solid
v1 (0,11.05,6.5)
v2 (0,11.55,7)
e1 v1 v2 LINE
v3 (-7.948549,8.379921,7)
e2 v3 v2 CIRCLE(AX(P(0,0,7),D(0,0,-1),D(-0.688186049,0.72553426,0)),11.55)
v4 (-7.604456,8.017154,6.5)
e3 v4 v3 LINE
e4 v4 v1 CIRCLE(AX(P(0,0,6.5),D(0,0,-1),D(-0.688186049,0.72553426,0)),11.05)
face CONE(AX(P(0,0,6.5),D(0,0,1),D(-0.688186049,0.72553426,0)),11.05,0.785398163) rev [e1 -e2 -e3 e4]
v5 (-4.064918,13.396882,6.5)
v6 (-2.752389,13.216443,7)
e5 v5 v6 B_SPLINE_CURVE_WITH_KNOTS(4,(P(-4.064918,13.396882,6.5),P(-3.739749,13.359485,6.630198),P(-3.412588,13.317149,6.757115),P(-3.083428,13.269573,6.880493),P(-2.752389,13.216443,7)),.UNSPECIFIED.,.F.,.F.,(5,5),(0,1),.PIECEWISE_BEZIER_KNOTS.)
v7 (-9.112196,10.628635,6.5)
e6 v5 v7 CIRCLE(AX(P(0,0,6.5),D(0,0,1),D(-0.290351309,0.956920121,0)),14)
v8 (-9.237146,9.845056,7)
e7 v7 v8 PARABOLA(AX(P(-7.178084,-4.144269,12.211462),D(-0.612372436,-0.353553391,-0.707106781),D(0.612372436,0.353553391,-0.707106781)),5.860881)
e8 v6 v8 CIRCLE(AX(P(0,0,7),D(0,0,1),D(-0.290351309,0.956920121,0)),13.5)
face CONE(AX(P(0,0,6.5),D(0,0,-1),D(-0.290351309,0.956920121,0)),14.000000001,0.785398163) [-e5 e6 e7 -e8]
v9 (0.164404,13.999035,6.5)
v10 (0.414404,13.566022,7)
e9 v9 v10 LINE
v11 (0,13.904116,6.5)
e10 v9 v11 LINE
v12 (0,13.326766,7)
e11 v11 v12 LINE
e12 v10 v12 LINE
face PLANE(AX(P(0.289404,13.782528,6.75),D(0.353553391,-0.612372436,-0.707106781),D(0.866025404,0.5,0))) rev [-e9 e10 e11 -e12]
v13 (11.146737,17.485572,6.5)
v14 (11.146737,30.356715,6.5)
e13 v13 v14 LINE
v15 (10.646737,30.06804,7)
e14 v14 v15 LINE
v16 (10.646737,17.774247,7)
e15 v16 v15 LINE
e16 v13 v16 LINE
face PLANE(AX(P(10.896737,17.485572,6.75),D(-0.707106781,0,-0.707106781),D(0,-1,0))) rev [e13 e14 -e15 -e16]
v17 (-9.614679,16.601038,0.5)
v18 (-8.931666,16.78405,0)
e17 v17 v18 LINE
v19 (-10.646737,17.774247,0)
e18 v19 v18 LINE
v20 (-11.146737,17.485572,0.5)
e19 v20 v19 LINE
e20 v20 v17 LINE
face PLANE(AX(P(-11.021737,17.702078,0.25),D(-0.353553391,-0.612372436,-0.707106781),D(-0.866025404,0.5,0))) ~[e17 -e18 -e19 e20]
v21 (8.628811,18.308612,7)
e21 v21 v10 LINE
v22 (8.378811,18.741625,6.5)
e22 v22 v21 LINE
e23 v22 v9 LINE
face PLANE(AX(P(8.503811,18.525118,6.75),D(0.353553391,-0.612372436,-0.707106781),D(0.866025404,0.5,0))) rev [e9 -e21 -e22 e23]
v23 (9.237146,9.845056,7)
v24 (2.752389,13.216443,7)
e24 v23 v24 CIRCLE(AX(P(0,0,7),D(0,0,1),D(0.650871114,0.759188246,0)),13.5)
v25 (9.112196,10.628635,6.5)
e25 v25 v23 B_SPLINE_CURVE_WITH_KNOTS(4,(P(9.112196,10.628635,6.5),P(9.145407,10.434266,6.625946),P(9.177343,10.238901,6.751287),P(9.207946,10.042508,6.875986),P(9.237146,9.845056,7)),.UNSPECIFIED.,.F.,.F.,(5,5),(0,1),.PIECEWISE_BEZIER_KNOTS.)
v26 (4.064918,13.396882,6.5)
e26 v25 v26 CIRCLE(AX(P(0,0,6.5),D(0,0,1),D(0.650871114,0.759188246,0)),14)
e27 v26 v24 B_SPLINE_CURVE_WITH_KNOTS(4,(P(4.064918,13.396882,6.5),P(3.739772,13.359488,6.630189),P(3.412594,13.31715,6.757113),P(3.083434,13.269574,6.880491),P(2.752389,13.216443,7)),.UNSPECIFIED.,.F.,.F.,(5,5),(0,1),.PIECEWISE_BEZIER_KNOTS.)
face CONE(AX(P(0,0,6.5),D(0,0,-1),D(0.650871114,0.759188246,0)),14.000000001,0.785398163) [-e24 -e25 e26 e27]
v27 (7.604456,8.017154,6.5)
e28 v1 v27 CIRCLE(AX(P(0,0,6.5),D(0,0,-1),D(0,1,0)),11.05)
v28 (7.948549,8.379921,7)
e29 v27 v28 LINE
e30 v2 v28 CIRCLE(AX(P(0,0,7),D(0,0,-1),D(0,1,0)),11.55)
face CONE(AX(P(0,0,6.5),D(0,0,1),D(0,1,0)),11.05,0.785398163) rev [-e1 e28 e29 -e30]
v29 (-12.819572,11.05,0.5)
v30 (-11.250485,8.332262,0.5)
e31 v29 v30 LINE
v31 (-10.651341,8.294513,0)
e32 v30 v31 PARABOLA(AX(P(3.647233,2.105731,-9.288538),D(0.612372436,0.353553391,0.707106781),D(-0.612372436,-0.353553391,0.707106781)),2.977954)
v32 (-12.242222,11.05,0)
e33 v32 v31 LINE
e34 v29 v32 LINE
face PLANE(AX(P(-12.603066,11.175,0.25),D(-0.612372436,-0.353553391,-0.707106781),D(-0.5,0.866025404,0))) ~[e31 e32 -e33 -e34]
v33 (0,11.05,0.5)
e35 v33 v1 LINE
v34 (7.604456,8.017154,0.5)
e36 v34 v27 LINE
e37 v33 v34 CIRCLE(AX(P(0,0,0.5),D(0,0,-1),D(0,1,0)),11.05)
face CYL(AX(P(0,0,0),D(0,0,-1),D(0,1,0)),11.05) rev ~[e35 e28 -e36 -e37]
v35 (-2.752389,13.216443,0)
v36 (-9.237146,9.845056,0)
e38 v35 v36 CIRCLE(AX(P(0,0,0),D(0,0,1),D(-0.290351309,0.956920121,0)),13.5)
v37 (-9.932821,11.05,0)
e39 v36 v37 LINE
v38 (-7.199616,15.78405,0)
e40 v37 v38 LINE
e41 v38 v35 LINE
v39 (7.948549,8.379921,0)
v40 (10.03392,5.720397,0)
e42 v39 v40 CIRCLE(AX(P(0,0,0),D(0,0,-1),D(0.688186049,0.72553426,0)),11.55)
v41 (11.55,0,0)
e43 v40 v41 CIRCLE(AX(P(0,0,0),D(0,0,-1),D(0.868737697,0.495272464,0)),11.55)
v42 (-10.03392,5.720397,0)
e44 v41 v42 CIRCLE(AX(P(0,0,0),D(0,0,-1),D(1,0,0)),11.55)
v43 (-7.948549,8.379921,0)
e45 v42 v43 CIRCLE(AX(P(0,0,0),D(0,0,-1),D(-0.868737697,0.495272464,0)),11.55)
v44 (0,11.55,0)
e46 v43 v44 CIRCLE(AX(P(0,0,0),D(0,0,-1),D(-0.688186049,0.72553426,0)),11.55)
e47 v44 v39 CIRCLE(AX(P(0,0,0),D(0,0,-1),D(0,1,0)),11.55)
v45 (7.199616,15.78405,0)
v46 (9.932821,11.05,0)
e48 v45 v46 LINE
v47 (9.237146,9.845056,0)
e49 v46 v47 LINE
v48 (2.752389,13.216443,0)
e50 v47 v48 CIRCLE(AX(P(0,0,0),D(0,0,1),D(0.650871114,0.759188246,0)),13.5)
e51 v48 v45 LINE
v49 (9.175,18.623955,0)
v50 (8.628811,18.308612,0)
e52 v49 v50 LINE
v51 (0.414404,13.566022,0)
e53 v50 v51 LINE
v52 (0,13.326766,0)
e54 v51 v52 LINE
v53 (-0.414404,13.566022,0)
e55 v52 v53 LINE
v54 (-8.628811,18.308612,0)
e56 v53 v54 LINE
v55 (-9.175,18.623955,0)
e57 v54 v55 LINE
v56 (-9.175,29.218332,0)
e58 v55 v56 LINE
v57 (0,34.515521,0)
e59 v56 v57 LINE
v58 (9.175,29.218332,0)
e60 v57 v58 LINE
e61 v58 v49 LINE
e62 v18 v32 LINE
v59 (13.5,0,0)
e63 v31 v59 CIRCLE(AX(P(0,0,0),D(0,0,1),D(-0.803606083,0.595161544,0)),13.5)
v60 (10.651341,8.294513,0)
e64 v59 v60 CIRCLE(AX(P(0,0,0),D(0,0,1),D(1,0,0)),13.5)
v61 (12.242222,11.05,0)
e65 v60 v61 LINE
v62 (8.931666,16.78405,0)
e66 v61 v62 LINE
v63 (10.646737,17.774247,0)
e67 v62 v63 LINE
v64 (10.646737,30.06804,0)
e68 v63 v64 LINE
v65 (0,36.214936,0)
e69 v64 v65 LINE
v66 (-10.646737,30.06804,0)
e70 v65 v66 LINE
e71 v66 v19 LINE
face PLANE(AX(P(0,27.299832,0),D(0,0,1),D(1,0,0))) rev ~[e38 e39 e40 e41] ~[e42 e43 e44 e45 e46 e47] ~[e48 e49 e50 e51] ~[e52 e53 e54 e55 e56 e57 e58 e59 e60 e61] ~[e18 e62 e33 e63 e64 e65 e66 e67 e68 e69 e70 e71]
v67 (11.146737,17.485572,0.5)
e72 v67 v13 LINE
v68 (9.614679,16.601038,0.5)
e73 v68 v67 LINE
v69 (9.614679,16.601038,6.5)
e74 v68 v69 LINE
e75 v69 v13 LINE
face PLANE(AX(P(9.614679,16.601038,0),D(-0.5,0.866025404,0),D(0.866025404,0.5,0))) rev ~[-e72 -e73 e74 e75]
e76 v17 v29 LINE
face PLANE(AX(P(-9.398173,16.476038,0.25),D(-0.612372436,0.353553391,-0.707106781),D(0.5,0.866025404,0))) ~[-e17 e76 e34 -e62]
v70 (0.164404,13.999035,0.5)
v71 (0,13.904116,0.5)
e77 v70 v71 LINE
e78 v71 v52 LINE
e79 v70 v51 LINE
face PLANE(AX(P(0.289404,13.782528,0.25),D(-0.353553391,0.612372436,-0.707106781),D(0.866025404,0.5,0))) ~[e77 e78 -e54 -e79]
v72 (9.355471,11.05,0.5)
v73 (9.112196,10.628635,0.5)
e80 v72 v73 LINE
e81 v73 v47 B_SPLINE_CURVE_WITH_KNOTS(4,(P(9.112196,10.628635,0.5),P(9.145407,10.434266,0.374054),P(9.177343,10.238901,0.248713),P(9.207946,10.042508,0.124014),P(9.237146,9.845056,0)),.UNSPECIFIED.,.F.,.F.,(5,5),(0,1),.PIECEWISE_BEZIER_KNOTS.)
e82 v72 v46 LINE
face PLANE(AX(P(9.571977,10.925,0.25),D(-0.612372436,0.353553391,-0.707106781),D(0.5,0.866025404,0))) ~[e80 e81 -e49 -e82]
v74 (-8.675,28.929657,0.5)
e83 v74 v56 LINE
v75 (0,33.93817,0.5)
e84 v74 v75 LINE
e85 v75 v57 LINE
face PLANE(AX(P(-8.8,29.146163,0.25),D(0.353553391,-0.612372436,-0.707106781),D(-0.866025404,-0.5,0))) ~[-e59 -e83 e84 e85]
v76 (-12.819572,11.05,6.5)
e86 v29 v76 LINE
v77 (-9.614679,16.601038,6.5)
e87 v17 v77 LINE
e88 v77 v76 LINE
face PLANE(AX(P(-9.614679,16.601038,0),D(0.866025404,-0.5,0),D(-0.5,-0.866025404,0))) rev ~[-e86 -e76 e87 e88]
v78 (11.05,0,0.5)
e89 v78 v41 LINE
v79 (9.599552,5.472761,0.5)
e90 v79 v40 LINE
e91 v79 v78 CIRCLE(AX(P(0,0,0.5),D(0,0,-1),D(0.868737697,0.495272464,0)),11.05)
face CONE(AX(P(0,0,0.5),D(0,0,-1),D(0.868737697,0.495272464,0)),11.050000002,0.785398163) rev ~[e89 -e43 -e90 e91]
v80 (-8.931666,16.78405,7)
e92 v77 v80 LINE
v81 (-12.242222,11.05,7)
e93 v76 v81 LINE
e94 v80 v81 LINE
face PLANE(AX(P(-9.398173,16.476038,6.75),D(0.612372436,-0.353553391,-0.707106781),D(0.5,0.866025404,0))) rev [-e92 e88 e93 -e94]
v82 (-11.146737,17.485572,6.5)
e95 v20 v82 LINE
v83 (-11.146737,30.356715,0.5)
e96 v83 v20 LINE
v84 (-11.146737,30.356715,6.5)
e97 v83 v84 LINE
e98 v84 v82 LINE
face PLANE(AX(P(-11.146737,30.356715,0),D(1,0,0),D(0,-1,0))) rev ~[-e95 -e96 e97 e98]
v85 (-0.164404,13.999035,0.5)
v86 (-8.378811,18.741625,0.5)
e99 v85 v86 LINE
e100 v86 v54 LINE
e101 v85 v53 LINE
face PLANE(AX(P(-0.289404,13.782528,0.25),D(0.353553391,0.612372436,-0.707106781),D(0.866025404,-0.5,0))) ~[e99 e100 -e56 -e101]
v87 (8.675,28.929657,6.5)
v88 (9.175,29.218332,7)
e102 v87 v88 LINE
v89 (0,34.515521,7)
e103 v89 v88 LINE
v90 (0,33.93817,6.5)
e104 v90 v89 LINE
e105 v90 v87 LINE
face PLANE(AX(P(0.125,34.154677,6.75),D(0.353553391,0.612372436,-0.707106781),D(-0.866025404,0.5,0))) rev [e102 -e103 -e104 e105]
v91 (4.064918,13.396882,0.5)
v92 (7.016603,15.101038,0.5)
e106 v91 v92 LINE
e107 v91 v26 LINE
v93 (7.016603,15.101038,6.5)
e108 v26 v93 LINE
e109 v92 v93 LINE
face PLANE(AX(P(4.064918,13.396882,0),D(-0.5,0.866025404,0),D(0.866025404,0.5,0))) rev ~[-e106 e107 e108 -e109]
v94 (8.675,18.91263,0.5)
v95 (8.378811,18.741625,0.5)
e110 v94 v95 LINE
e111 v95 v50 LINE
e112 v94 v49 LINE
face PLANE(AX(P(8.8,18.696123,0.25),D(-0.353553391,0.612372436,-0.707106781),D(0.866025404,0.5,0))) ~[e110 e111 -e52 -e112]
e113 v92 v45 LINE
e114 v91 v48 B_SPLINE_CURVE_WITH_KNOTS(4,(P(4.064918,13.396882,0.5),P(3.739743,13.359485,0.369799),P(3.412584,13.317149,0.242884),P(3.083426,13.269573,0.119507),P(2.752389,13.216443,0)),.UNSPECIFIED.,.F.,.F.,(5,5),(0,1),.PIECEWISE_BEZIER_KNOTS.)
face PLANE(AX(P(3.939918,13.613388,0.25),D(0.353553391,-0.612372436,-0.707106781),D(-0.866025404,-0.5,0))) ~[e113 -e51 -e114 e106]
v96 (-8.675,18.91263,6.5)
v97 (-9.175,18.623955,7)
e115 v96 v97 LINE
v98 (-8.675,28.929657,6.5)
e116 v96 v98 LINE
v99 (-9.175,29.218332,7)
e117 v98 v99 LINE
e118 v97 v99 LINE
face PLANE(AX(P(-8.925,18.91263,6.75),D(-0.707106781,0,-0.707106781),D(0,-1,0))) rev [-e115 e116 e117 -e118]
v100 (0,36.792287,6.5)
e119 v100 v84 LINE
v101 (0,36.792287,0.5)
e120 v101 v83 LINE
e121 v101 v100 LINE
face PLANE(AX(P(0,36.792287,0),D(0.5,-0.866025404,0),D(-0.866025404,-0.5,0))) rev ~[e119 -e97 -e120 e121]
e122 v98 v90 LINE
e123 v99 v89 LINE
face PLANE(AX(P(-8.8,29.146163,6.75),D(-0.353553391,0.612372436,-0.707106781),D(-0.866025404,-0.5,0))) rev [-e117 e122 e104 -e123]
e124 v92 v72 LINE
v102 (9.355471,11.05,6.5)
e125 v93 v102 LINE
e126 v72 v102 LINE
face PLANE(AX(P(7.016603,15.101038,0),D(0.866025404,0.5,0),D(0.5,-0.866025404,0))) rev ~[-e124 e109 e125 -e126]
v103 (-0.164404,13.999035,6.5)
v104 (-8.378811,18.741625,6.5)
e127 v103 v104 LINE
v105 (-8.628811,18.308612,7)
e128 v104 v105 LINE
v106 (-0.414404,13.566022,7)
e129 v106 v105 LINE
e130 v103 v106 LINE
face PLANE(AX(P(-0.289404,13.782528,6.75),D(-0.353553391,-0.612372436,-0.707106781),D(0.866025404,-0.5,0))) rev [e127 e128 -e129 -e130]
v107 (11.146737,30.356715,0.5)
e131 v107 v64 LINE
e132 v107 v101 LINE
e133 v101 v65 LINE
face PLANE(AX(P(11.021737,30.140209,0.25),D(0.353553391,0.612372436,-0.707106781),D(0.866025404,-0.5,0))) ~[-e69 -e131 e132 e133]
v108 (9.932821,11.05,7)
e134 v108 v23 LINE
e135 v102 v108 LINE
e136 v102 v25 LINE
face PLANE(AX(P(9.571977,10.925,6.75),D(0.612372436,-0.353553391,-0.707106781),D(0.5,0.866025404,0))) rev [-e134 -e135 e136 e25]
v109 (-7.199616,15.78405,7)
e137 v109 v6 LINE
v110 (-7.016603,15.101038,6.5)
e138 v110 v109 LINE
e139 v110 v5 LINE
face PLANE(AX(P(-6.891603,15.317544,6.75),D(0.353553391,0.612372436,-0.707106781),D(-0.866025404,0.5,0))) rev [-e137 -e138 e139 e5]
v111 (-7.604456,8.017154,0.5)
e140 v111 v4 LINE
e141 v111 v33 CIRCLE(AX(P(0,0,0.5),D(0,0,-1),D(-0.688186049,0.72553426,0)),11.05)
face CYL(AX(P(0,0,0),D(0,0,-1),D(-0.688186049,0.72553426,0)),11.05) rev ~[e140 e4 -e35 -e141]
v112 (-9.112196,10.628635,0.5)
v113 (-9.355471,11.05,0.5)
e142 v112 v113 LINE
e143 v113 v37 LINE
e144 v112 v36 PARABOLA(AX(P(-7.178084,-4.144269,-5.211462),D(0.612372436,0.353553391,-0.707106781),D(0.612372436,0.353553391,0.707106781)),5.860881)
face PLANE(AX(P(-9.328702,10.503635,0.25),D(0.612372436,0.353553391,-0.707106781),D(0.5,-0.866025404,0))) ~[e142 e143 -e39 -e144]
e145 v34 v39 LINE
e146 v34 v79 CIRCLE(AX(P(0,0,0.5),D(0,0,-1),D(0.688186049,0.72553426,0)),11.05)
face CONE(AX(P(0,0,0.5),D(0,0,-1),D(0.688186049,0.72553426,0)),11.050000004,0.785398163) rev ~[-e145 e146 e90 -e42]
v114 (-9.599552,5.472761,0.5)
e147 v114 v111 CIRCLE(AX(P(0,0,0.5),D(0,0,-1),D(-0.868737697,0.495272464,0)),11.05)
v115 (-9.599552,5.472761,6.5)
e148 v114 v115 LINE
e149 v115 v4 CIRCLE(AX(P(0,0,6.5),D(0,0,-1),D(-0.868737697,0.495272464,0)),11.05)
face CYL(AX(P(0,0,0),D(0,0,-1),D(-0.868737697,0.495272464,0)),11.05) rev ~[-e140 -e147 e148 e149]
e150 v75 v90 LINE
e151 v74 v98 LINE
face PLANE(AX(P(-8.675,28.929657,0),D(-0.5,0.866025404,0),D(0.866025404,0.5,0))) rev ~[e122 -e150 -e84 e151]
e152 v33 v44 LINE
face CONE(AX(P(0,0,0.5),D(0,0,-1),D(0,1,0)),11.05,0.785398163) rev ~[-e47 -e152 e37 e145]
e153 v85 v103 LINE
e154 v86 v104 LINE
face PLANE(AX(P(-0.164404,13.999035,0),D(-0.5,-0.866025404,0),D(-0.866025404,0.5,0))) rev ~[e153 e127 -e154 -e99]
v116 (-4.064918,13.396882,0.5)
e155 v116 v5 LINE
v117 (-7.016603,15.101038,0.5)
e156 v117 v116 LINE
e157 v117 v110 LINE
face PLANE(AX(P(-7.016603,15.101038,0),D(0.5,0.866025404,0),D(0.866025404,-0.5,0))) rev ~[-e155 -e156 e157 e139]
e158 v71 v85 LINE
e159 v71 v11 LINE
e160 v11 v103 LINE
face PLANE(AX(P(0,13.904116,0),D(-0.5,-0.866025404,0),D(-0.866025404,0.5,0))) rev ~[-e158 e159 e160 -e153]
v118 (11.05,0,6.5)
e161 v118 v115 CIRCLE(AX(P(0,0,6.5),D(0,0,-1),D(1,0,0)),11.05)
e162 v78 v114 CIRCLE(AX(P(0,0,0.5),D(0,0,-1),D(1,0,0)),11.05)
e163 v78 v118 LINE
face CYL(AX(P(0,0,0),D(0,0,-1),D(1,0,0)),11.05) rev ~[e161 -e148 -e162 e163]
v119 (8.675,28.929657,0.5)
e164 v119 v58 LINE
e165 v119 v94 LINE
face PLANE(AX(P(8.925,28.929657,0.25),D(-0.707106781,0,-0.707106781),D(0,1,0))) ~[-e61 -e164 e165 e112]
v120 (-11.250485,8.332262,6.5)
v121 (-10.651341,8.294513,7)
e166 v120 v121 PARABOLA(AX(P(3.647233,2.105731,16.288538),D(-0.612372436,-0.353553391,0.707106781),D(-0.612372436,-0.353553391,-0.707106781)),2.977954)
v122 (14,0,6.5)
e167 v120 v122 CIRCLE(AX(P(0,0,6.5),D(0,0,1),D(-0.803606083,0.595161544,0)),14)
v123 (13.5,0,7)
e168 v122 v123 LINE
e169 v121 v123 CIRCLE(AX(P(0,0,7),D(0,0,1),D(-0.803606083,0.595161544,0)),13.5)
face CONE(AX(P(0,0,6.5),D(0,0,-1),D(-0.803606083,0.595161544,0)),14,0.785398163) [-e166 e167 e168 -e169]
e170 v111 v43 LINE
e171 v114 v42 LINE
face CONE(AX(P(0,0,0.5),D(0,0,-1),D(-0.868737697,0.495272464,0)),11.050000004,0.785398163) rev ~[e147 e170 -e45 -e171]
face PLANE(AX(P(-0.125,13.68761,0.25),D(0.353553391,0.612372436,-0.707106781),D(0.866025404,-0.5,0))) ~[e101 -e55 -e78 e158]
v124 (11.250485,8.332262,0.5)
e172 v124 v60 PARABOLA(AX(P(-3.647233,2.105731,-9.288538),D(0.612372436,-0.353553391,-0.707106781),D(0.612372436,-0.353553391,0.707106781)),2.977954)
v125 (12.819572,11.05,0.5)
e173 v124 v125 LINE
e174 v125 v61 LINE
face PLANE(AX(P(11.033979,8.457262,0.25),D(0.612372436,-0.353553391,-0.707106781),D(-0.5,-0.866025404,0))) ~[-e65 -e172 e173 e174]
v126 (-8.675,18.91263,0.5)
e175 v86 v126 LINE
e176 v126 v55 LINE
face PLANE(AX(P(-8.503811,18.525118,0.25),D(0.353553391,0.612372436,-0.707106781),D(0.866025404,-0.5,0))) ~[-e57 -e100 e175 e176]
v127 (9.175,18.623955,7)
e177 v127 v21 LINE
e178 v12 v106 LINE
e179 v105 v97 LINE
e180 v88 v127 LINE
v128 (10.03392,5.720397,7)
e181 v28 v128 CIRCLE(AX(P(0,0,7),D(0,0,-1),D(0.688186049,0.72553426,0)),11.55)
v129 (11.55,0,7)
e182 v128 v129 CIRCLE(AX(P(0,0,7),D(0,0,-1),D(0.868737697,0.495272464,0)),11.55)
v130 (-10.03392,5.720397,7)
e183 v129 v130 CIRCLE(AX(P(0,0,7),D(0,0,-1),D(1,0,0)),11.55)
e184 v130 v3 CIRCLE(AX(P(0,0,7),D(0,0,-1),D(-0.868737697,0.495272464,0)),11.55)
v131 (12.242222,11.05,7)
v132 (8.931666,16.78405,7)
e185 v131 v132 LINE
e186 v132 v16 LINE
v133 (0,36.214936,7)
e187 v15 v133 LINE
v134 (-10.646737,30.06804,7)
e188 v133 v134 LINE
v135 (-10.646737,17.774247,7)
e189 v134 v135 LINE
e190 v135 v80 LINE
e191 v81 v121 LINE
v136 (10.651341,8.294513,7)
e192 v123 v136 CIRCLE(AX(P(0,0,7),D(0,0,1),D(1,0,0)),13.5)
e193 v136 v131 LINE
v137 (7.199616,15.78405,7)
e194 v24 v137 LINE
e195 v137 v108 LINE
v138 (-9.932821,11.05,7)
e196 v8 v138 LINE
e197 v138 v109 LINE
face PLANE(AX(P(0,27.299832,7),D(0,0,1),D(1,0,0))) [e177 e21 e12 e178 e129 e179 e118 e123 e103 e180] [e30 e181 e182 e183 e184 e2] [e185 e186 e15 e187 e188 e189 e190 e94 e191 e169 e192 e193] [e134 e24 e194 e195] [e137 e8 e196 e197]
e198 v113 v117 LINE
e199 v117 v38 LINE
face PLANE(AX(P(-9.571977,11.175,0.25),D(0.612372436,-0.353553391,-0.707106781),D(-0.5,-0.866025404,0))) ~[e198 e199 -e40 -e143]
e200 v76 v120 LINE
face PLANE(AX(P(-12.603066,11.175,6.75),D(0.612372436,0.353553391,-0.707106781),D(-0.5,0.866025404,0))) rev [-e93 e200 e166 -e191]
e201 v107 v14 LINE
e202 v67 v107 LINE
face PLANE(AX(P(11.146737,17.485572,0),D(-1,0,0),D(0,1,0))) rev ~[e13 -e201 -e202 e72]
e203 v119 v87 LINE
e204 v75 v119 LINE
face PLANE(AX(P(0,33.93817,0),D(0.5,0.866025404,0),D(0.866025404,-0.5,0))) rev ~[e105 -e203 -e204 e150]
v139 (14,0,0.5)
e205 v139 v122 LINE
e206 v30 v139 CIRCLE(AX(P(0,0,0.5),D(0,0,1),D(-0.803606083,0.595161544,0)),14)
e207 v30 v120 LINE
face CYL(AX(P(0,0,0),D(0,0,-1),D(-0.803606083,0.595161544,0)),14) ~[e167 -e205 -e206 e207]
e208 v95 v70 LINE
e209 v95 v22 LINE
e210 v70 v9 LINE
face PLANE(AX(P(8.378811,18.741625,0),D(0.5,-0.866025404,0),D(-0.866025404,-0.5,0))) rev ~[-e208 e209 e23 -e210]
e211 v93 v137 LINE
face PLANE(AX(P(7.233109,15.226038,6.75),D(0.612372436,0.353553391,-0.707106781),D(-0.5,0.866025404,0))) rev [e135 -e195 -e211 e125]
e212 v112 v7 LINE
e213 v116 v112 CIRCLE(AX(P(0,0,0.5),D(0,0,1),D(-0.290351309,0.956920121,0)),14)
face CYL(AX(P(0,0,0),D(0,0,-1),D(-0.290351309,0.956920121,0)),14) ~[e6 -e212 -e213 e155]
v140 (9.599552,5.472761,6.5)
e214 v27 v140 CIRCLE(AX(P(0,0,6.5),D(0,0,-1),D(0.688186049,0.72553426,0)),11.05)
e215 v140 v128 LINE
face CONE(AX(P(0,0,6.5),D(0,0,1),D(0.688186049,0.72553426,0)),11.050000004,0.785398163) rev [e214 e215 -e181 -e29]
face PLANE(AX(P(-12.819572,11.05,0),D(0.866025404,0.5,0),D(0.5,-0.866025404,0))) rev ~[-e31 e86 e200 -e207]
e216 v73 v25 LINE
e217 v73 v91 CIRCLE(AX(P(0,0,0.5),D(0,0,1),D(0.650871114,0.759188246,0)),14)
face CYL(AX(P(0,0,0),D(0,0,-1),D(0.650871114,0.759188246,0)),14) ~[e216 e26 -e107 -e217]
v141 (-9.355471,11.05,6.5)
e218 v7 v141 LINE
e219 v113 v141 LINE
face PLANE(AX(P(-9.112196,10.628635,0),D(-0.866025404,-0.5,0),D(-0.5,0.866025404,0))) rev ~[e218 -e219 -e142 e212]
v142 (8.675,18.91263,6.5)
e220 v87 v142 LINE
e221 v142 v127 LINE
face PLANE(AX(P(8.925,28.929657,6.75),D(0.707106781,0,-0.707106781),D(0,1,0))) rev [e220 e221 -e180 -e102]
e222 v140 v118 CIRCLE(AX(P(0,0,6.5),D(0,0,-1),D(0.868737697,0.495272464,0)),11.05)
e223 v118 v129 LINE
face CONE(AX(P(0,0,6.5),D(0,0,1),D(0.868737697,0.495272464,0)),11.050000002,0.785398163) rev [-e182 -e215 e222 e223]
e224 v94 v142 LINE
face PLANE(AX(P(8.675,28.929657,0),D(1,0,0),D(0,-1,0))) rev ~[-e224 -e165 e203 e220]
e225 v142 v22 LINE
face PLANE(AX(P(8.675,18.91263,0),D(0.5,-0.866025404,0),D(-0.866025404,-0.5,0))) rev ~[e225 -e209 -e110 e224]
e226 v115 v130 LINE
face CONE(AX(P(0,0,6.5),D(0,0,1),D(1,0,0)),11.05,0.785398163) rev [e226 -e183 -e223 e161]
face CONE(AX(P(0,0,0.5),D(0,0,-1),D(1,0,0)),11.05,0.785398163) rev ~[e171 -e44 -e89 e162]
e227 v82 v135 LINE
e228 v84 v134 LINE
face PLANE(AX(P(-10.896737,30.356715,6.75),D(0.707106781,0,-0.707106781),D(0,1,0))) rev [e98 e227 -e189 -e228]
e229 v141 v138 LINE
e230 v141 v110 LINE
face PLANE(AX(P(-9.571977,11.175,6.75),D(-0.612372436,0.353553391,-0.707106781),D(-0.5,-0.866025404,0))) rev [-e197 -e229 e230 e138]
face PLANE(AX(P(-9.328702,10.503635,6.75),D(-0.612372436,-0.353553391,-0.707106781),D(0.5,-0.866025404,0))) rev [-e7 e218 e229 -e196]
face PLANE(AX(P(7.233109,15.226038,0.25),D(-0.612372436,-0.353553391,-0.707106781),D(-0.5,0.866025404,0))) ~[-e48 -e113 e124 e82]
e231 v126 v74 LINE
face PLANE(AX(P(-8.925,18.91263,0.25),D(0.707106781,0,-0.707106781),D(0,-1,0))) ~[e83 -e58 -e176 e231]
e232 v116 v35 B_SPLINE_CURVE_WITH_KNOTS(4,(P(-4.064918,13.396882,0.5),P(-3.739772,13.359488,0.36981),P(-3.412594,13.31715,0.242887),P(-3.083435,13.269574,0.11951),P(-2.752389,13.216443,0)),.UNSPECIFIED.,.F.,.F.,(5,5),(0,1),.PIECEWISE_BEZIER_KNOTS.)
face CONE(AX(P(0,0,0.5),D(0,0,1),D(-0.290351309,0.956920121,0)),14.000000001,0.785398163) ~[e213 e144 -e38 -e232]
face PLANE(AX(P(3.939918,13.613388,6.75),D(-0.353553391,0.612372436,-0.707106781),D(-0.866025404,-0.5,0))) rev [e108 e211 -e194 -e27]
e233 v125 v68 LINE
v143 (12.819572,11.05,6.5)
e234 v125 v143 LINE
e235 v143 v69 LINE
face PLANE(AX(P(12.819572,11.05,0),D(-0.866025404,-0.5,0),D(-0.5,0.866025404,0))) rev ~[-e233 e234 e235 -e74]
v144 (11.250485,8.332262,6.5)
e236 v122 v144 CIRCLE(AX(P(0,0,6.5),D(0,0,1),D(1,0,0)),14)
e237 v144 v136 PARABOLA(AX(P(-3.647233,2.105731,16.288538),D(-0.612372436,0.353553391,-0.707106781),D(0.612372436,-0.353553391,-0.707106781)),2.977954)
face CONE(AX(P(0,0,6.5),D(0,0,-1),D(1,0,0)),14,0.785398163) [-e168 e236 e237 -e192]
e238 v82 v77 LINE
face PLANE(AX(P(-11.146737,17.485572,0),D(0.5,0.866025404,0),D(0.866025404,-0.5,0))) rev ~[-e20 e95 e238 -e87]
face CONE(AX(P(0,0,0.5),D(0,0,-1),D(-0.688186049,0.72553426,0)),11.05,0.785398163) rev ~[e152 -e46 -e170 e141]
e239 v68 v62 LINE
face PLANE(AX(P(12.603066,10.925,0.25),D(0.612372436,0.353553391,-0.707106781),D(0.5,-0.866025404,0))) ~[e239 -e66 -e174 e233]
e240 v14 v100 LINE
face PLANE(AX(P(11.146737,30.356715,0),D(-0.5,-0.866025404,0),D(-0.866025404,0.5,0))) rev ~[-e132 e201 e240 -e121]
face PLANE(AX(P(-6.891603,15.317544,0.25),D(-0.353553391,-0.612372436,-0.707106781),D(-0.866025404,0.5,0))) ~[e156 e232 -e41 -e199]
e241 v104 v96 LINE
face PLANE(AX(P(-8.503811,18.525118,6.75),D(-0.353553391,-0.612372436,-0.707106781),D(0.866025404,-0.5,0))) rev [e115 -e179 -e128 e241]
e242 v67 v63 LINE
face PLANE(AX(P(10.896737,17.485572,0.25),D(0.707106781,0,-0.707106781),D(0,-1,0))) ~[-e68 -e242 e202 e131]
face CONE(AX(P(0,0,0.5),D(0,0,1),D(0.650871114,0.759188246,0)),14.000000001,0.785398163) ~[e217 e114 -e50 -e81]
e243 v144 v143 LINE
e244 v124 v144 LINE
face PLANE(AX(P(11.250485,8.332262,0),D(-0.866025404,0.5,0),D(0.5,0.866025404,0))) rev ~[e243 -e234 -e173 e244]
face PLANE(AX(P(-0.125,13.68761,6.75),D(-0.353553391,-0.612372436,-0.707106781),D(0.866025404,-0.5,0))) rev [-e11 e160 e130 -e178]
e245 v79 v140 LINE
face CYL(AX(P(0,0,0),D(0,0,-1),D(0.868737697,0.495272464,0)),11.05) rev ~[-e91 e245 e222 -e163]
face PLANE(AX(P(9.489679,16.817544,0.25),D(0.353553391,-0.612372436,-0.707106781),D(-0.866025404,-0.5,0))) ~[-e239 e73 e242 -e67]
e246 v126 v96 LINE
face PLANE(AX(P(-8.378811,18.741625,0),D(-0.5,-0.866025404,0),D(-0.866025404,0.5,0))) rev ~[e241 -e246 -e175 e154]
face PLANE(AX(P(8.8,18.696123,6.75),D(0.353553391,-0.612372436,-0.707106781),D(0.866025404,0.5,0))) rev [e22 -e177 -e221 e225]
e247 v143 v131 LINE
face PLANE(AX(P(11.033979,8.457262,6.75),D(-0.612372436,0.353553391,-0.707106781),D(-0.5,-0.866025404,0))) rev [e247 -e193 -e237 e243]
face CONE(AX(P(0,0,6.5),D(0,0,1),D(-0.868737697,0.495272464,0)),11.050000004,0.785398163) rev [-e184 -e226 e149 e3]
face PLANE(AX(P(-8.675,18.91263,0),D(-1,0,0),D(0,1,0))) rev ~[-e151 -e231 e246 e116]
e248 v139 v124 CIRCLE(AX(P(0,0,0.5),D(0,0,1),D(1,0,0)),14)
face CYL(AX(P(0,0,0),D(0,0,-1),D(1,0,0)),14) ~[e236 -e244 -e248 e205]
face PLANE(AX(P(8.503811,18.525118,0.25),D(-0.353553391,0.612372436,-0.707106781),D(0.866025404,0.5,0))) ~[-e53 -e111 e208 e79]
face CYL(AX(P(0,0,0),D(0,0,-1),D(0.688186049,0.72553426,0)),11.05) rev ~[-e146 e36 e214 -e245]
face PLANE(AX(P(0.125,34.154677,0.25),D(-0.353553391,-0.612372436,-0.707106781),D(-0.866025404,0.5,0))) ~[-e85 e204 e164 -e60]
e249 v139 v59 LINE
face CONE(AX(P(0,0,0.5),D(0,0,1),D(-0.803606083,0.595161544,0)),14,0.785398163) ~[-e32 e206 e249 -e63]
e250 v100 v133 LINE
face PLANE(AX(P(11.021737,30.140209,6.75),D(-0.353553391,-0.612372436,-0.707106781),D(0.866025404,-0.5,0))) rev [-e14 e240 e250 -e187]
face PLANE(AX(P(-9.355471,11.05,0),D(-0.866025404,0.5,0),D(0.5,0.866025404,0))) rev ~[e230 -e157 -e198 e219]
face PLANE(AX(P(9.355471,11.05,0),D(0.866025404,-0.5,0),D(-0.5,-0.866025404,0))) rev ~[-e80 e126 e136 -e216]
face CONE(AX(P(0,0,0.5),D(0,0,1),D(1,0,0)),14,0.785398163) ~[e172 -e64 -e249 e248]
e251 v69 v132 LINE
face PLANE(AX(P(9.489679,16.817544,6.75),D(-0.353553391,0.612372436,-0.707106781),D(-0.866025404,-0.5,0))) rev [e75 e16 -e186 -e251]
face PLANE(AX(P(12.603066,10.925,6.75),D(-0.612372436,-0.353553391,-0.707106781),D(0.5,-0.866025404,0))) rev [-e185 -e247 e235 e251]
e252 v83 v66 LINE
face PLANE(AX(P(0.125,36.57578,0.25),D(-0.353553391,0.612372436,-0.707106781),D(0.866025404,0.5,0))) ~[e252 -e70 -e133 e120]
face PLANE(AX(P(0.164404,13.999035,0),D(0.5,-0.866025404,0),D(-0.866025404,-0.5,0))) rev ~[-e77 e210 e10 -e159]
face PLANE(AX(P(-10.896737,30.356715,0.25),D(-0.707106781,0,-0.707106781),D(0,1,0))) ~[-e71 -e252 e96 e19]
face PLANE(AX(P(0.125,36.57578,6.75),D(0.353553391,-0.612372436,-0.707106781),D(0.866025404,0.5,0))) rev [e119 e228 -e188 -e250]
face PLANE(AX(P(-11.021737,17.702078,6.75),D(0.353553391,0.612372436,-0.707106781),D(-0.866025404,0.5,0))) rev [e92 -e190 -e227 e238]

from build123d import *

# Parameters (mm, degrees)
F1_DEPTH = 7
F2_SIZE  = 0.5


with BuildPart() as f1:
    # F0 (on Top) → F1 (new body)
    with BuildSketch(Plane.XY):
        Polygon((8.378810594, 18.741624645), (9.614679115, 16.6010375752), (11.146737042, 17.4855716318), (11.146737042, 30.3567148954), (0, 36.7922865272), (-11.146737042, 30.3567148954), (-11.146737042, 17.4855716318), (-9.614679115, 16.6010375752), (-8.378810594, 18.741624645), (-8.675, 18.9126296784), (-8.675, 28.9296568488), (0, 33.938170434), (8.675, 28.9296568488), (8.675, 18.9126296784), align=None)
        with BuildLine():
            Line((-4.0649183257, 13.3968816896), (0, 11.05))
            Line((0, 11.05), (4.0649183257, 13.3968816896))
            ThreePointArc((4.0649183257, 13.3968816896), (2.1359865208, 13.8360963275), (0.1644037795, 13.9990346595))
            Line((0.1644037795, 13.9990346595), (0, 13.9041160931))
            Line((0, 13.9041160931), (-0.1644037795, 13.9990346595))
            ThreePointArc((-0.1644037795, 13.9990346595), (-2.1359865208, 13.8360963275), (-4.0649183257, 13.3968816896))
        make_face()
        with BuildLine():
            ThreePointArc((9.1121955979, 10.6286354433), (10.2458784466, 9.5405437401), (11.2504851637, 8.3322616126))
            Line((11.2504851637, 8.3322616126), (12.8195721533, 11.05))
            Line((12.8195721533, 11.05), (9.614679115, 16.6010375752))
            Line((9.614679115, 16.6010375752), (7.0166029036, 15.1010375752))
            Line((7.0166029036, 15.1010375752), (9.3554705381, 11.05))
            Line((9.3554705381, 11.05), (9.1121955979, 10.6286354433))
        make_face()
        with BuildLine():
            ThreePointArc((7.6044558373, 8.0171535733), (8.6955707884, 6.8183244762), (9.5995515555, 5.4727607232))
            Line((9.5995515555, 5.4727607232), (11.2504851637, 8.3322616126))
            ThreePointArc((11.2504851637, 8.3322616126), (10.2458784466, 9.5405437401), (9.1121955979, 10.6286354433))
            Line((9.1121955979, 10.6286354433), (7.6044558373, 8.0171535733))
        make_face()
        with BuildLine():
            ThreePointArc((0, 11.05), (4.0934675408, 10.2638210961), (7.6044558373, 8.0171535733))
            Line((7.6044558373, 8.0171535733), (9.1121955979, 10.6286354433))
            ThreePointArc((9.1121955979, 10.6286354433), (6.7323754841, 12.2749794436), (4.0649183257, 13.3968816896))
            Line((4.0649183257, 13.3968816896), (0, 11.05))
        make_face()
        with BuildLine():
            Line((-9.1121955979, 10.6286354433), (-7.6044558373, 8.0171535733))
            ThreePointArc((-7.6044558373, 8.0171535733), (-4.0934675408, 10.2638210961), (0, 11.05))
            Line((0, 11.05), (-4.0649183257, 13.3968816896))
            ThreePointArc((-4.0649183257, 13.3968816896), (-6.7323754841, 12.2749794436), (-9.1121955979, 10.6286354433))
        make_face()
        with BuildLine():
            ThreePointArc((9.5995515555, 5.4727607232), (10.6812345889, 2.8308528142), (11.05, 0))
            ThreePointArc((11.05, 0), (-2.8308528142, -10.6812345889), (-9.5995515555, 5.4727607232))
            Line((-9.5995515555, 5.4727607232), (-11.2504851637, 8.3322616126))
            ThreePointArc((-11.2504851637, 8.3322616126), (-4.3870951499, -13.2948635249), (14, 0))
            ThreePointArc((14, 0), (13.2948635249, 4.3870951499), (11.2504851637, 8.3322616126))
            Line((11.2504851637, 8.3322616126), (9.5995515555, 5.4727607232))
        make_face()
        with BuildLine():
            Line((-11.2504851637, 8.3322616126), (-9.5995515555, 5.4727607232))
            ThreePointArc((-9.5995515555, 5.4727607232), (-8.6955707884, 6.8183244762), (-7.6044558373, 8.0171535733))
            Line((-7.6044558373, 8.0171535733), (-9.1121955979, 10.6286354433))
            ThreePointArc((-9.1121955979, 10.6286354433), (-10.2458784466, 9.5405437401), (-11.2504851637, 8.3322616126))
        make_face()
        with BuildLine():
            Line((-12.8195721533, 11.05), (-11.2504851637, 8.3322616126))
            ThreePointArc((-11.2504851637, 8.3322616126), (-10.2458784466, 9.5405437401), (-9.1121955979, 10.6286354433))
            Line((-9.1121955979, 10.6286354433), (-9.3554705381, 11.05))
            Line((-9.3554705381, 11.05), (-7.0166029036, 15.1010375752))
            Line((-7.0166029036, 15.1010375752), (-9.614679115, 16.6010375752))
            Line((-9.614679115, 16.6010375752), (-12.8195721533, 11.05))
        make_face()
        with BuildLine():
            Line((-7.0166029036, 15.1010375752), (-4.0649183257, 13.3968816896))
            ThreePointArc((-4.0649183257, 13.3968816896), (-2.1359865208, 13.8360963275), (-0.1644037795, 13.9990346595))
            Line((-0.1644037795, 13.9990346595), (-5.7807343826, 17.241624645))
            Line((-5.7807343826, 17.241624645), (-7.0166029036, 15.1010375752))
        make_face()
        Polygon((-8.378810594, 18.741624645), (-9.614679115, 16.6010375752), (-7.0166029036, 15.1010375752), (-5.7807343826, 17.241624645), align=None)
        Polygon((7.0166029036, 15.1010375752), (9.614679115, 16.6010375752), (8.378810594, 18.741624645), (5.7807343826, 17.241624645), align=None)
        with BuildLine():
            ThreePointArc((0.1644037795, 13.9990346595), (2.1359865208, 13.8360963275), (4.0649183257, 13.3968816896))
            Line((4.0649183257, 13.3968816896), (7.0166029036, 15.1010375752))
            Line((7.0166029036, 15.1010375752), (5.7807343826, 17.241624645))
            Line((5.7807343826, 17.241624645), (0.1644037795, 13.9990346595))
        make_face()
    extrude(amount=F1_DEPTH)

    # F2
    f2_edges = [f1.edges().sort_by_distance(p)[0] for p in [
        (-11.146737, 23.921143, 7),
        (-5.573369, 33.574501, 7),
        (5.573369, 33.574501, 7),
        (11.146737, 23.921143, 7),
        (10.380708, 17.043305, 7),
        (11.217126, 13.825519, 7),
        (12.035029, 9.691131, 7),
        (0, -14, 7),
        (-12.035029, 9.691131, 7),
        (-11.217126, 13.825519, 7),
        (-10.380708, 17.043305, 7),
        (9.599552, -5.472761, 7),
        (-6.732375, 12.274979, 7),
        (-9.233833, 10.839318, 7),
        (-8.186037, 13.075519, 7),
        (-5.540761, 14.24896, 7),
        (4.3375, 16.408373, 7),
        (-4.3375, 16.408373, 7),
        (-8.675, 23.921143, 7),
        (-4.3375, 31.433914, 7),
        (4.3375, 31.433914, 7),
        (8.675, 23.921143, 7),
        (8.186037, 13.075519, 7),
        (9.233833, 10.839318, 7),
        (6.732375, 12.274979, 7),
        (5.540761, 14.24896, 7),
        (11.217126, 13.825519, 0),
        (10.380708, 17.043305, 0),
        (11.146737, 23.921143, 0),
        (5.573369, 33.574501, 0),
        (-5.573369, 33.574501, 0),
        (-11.146737, 23.921143, 0),
        (-10.380708, 17.043305, 0),
        (-11.217126, 13.825519, 0),
        (-12.035029, 9.691131, 0),
        (0, -14, 0),
        (12.035029, 9.691131, 0),
        (9.599552, -5.472761, 0),
        (-6.732375, 12.274979, 0),
        (-9.233833, 10.839318, 0),
        (-8.186037, 13.075519, 0),
        (-5.540761, 14.24896, 0),
        (4.3375, 16.408373, 0),
        (-4.3375, 16.408373, 0),
        (-8.675, 23.921143, 0),
        (-4.3375, 31.433914, 0),
        (4.3375, 31.433914, 0),
        (8.675, 23.921143, 0),
        (8.186037, 13.075519, 0),
        (9.233833, 10.839318, 0),
        (6.732375, 12.274979, 0),
        (5.540761, 14.24896, 0),
    ]]
    chamfer(f2_edges, length=F2_SIZE)


solid = f1.part
